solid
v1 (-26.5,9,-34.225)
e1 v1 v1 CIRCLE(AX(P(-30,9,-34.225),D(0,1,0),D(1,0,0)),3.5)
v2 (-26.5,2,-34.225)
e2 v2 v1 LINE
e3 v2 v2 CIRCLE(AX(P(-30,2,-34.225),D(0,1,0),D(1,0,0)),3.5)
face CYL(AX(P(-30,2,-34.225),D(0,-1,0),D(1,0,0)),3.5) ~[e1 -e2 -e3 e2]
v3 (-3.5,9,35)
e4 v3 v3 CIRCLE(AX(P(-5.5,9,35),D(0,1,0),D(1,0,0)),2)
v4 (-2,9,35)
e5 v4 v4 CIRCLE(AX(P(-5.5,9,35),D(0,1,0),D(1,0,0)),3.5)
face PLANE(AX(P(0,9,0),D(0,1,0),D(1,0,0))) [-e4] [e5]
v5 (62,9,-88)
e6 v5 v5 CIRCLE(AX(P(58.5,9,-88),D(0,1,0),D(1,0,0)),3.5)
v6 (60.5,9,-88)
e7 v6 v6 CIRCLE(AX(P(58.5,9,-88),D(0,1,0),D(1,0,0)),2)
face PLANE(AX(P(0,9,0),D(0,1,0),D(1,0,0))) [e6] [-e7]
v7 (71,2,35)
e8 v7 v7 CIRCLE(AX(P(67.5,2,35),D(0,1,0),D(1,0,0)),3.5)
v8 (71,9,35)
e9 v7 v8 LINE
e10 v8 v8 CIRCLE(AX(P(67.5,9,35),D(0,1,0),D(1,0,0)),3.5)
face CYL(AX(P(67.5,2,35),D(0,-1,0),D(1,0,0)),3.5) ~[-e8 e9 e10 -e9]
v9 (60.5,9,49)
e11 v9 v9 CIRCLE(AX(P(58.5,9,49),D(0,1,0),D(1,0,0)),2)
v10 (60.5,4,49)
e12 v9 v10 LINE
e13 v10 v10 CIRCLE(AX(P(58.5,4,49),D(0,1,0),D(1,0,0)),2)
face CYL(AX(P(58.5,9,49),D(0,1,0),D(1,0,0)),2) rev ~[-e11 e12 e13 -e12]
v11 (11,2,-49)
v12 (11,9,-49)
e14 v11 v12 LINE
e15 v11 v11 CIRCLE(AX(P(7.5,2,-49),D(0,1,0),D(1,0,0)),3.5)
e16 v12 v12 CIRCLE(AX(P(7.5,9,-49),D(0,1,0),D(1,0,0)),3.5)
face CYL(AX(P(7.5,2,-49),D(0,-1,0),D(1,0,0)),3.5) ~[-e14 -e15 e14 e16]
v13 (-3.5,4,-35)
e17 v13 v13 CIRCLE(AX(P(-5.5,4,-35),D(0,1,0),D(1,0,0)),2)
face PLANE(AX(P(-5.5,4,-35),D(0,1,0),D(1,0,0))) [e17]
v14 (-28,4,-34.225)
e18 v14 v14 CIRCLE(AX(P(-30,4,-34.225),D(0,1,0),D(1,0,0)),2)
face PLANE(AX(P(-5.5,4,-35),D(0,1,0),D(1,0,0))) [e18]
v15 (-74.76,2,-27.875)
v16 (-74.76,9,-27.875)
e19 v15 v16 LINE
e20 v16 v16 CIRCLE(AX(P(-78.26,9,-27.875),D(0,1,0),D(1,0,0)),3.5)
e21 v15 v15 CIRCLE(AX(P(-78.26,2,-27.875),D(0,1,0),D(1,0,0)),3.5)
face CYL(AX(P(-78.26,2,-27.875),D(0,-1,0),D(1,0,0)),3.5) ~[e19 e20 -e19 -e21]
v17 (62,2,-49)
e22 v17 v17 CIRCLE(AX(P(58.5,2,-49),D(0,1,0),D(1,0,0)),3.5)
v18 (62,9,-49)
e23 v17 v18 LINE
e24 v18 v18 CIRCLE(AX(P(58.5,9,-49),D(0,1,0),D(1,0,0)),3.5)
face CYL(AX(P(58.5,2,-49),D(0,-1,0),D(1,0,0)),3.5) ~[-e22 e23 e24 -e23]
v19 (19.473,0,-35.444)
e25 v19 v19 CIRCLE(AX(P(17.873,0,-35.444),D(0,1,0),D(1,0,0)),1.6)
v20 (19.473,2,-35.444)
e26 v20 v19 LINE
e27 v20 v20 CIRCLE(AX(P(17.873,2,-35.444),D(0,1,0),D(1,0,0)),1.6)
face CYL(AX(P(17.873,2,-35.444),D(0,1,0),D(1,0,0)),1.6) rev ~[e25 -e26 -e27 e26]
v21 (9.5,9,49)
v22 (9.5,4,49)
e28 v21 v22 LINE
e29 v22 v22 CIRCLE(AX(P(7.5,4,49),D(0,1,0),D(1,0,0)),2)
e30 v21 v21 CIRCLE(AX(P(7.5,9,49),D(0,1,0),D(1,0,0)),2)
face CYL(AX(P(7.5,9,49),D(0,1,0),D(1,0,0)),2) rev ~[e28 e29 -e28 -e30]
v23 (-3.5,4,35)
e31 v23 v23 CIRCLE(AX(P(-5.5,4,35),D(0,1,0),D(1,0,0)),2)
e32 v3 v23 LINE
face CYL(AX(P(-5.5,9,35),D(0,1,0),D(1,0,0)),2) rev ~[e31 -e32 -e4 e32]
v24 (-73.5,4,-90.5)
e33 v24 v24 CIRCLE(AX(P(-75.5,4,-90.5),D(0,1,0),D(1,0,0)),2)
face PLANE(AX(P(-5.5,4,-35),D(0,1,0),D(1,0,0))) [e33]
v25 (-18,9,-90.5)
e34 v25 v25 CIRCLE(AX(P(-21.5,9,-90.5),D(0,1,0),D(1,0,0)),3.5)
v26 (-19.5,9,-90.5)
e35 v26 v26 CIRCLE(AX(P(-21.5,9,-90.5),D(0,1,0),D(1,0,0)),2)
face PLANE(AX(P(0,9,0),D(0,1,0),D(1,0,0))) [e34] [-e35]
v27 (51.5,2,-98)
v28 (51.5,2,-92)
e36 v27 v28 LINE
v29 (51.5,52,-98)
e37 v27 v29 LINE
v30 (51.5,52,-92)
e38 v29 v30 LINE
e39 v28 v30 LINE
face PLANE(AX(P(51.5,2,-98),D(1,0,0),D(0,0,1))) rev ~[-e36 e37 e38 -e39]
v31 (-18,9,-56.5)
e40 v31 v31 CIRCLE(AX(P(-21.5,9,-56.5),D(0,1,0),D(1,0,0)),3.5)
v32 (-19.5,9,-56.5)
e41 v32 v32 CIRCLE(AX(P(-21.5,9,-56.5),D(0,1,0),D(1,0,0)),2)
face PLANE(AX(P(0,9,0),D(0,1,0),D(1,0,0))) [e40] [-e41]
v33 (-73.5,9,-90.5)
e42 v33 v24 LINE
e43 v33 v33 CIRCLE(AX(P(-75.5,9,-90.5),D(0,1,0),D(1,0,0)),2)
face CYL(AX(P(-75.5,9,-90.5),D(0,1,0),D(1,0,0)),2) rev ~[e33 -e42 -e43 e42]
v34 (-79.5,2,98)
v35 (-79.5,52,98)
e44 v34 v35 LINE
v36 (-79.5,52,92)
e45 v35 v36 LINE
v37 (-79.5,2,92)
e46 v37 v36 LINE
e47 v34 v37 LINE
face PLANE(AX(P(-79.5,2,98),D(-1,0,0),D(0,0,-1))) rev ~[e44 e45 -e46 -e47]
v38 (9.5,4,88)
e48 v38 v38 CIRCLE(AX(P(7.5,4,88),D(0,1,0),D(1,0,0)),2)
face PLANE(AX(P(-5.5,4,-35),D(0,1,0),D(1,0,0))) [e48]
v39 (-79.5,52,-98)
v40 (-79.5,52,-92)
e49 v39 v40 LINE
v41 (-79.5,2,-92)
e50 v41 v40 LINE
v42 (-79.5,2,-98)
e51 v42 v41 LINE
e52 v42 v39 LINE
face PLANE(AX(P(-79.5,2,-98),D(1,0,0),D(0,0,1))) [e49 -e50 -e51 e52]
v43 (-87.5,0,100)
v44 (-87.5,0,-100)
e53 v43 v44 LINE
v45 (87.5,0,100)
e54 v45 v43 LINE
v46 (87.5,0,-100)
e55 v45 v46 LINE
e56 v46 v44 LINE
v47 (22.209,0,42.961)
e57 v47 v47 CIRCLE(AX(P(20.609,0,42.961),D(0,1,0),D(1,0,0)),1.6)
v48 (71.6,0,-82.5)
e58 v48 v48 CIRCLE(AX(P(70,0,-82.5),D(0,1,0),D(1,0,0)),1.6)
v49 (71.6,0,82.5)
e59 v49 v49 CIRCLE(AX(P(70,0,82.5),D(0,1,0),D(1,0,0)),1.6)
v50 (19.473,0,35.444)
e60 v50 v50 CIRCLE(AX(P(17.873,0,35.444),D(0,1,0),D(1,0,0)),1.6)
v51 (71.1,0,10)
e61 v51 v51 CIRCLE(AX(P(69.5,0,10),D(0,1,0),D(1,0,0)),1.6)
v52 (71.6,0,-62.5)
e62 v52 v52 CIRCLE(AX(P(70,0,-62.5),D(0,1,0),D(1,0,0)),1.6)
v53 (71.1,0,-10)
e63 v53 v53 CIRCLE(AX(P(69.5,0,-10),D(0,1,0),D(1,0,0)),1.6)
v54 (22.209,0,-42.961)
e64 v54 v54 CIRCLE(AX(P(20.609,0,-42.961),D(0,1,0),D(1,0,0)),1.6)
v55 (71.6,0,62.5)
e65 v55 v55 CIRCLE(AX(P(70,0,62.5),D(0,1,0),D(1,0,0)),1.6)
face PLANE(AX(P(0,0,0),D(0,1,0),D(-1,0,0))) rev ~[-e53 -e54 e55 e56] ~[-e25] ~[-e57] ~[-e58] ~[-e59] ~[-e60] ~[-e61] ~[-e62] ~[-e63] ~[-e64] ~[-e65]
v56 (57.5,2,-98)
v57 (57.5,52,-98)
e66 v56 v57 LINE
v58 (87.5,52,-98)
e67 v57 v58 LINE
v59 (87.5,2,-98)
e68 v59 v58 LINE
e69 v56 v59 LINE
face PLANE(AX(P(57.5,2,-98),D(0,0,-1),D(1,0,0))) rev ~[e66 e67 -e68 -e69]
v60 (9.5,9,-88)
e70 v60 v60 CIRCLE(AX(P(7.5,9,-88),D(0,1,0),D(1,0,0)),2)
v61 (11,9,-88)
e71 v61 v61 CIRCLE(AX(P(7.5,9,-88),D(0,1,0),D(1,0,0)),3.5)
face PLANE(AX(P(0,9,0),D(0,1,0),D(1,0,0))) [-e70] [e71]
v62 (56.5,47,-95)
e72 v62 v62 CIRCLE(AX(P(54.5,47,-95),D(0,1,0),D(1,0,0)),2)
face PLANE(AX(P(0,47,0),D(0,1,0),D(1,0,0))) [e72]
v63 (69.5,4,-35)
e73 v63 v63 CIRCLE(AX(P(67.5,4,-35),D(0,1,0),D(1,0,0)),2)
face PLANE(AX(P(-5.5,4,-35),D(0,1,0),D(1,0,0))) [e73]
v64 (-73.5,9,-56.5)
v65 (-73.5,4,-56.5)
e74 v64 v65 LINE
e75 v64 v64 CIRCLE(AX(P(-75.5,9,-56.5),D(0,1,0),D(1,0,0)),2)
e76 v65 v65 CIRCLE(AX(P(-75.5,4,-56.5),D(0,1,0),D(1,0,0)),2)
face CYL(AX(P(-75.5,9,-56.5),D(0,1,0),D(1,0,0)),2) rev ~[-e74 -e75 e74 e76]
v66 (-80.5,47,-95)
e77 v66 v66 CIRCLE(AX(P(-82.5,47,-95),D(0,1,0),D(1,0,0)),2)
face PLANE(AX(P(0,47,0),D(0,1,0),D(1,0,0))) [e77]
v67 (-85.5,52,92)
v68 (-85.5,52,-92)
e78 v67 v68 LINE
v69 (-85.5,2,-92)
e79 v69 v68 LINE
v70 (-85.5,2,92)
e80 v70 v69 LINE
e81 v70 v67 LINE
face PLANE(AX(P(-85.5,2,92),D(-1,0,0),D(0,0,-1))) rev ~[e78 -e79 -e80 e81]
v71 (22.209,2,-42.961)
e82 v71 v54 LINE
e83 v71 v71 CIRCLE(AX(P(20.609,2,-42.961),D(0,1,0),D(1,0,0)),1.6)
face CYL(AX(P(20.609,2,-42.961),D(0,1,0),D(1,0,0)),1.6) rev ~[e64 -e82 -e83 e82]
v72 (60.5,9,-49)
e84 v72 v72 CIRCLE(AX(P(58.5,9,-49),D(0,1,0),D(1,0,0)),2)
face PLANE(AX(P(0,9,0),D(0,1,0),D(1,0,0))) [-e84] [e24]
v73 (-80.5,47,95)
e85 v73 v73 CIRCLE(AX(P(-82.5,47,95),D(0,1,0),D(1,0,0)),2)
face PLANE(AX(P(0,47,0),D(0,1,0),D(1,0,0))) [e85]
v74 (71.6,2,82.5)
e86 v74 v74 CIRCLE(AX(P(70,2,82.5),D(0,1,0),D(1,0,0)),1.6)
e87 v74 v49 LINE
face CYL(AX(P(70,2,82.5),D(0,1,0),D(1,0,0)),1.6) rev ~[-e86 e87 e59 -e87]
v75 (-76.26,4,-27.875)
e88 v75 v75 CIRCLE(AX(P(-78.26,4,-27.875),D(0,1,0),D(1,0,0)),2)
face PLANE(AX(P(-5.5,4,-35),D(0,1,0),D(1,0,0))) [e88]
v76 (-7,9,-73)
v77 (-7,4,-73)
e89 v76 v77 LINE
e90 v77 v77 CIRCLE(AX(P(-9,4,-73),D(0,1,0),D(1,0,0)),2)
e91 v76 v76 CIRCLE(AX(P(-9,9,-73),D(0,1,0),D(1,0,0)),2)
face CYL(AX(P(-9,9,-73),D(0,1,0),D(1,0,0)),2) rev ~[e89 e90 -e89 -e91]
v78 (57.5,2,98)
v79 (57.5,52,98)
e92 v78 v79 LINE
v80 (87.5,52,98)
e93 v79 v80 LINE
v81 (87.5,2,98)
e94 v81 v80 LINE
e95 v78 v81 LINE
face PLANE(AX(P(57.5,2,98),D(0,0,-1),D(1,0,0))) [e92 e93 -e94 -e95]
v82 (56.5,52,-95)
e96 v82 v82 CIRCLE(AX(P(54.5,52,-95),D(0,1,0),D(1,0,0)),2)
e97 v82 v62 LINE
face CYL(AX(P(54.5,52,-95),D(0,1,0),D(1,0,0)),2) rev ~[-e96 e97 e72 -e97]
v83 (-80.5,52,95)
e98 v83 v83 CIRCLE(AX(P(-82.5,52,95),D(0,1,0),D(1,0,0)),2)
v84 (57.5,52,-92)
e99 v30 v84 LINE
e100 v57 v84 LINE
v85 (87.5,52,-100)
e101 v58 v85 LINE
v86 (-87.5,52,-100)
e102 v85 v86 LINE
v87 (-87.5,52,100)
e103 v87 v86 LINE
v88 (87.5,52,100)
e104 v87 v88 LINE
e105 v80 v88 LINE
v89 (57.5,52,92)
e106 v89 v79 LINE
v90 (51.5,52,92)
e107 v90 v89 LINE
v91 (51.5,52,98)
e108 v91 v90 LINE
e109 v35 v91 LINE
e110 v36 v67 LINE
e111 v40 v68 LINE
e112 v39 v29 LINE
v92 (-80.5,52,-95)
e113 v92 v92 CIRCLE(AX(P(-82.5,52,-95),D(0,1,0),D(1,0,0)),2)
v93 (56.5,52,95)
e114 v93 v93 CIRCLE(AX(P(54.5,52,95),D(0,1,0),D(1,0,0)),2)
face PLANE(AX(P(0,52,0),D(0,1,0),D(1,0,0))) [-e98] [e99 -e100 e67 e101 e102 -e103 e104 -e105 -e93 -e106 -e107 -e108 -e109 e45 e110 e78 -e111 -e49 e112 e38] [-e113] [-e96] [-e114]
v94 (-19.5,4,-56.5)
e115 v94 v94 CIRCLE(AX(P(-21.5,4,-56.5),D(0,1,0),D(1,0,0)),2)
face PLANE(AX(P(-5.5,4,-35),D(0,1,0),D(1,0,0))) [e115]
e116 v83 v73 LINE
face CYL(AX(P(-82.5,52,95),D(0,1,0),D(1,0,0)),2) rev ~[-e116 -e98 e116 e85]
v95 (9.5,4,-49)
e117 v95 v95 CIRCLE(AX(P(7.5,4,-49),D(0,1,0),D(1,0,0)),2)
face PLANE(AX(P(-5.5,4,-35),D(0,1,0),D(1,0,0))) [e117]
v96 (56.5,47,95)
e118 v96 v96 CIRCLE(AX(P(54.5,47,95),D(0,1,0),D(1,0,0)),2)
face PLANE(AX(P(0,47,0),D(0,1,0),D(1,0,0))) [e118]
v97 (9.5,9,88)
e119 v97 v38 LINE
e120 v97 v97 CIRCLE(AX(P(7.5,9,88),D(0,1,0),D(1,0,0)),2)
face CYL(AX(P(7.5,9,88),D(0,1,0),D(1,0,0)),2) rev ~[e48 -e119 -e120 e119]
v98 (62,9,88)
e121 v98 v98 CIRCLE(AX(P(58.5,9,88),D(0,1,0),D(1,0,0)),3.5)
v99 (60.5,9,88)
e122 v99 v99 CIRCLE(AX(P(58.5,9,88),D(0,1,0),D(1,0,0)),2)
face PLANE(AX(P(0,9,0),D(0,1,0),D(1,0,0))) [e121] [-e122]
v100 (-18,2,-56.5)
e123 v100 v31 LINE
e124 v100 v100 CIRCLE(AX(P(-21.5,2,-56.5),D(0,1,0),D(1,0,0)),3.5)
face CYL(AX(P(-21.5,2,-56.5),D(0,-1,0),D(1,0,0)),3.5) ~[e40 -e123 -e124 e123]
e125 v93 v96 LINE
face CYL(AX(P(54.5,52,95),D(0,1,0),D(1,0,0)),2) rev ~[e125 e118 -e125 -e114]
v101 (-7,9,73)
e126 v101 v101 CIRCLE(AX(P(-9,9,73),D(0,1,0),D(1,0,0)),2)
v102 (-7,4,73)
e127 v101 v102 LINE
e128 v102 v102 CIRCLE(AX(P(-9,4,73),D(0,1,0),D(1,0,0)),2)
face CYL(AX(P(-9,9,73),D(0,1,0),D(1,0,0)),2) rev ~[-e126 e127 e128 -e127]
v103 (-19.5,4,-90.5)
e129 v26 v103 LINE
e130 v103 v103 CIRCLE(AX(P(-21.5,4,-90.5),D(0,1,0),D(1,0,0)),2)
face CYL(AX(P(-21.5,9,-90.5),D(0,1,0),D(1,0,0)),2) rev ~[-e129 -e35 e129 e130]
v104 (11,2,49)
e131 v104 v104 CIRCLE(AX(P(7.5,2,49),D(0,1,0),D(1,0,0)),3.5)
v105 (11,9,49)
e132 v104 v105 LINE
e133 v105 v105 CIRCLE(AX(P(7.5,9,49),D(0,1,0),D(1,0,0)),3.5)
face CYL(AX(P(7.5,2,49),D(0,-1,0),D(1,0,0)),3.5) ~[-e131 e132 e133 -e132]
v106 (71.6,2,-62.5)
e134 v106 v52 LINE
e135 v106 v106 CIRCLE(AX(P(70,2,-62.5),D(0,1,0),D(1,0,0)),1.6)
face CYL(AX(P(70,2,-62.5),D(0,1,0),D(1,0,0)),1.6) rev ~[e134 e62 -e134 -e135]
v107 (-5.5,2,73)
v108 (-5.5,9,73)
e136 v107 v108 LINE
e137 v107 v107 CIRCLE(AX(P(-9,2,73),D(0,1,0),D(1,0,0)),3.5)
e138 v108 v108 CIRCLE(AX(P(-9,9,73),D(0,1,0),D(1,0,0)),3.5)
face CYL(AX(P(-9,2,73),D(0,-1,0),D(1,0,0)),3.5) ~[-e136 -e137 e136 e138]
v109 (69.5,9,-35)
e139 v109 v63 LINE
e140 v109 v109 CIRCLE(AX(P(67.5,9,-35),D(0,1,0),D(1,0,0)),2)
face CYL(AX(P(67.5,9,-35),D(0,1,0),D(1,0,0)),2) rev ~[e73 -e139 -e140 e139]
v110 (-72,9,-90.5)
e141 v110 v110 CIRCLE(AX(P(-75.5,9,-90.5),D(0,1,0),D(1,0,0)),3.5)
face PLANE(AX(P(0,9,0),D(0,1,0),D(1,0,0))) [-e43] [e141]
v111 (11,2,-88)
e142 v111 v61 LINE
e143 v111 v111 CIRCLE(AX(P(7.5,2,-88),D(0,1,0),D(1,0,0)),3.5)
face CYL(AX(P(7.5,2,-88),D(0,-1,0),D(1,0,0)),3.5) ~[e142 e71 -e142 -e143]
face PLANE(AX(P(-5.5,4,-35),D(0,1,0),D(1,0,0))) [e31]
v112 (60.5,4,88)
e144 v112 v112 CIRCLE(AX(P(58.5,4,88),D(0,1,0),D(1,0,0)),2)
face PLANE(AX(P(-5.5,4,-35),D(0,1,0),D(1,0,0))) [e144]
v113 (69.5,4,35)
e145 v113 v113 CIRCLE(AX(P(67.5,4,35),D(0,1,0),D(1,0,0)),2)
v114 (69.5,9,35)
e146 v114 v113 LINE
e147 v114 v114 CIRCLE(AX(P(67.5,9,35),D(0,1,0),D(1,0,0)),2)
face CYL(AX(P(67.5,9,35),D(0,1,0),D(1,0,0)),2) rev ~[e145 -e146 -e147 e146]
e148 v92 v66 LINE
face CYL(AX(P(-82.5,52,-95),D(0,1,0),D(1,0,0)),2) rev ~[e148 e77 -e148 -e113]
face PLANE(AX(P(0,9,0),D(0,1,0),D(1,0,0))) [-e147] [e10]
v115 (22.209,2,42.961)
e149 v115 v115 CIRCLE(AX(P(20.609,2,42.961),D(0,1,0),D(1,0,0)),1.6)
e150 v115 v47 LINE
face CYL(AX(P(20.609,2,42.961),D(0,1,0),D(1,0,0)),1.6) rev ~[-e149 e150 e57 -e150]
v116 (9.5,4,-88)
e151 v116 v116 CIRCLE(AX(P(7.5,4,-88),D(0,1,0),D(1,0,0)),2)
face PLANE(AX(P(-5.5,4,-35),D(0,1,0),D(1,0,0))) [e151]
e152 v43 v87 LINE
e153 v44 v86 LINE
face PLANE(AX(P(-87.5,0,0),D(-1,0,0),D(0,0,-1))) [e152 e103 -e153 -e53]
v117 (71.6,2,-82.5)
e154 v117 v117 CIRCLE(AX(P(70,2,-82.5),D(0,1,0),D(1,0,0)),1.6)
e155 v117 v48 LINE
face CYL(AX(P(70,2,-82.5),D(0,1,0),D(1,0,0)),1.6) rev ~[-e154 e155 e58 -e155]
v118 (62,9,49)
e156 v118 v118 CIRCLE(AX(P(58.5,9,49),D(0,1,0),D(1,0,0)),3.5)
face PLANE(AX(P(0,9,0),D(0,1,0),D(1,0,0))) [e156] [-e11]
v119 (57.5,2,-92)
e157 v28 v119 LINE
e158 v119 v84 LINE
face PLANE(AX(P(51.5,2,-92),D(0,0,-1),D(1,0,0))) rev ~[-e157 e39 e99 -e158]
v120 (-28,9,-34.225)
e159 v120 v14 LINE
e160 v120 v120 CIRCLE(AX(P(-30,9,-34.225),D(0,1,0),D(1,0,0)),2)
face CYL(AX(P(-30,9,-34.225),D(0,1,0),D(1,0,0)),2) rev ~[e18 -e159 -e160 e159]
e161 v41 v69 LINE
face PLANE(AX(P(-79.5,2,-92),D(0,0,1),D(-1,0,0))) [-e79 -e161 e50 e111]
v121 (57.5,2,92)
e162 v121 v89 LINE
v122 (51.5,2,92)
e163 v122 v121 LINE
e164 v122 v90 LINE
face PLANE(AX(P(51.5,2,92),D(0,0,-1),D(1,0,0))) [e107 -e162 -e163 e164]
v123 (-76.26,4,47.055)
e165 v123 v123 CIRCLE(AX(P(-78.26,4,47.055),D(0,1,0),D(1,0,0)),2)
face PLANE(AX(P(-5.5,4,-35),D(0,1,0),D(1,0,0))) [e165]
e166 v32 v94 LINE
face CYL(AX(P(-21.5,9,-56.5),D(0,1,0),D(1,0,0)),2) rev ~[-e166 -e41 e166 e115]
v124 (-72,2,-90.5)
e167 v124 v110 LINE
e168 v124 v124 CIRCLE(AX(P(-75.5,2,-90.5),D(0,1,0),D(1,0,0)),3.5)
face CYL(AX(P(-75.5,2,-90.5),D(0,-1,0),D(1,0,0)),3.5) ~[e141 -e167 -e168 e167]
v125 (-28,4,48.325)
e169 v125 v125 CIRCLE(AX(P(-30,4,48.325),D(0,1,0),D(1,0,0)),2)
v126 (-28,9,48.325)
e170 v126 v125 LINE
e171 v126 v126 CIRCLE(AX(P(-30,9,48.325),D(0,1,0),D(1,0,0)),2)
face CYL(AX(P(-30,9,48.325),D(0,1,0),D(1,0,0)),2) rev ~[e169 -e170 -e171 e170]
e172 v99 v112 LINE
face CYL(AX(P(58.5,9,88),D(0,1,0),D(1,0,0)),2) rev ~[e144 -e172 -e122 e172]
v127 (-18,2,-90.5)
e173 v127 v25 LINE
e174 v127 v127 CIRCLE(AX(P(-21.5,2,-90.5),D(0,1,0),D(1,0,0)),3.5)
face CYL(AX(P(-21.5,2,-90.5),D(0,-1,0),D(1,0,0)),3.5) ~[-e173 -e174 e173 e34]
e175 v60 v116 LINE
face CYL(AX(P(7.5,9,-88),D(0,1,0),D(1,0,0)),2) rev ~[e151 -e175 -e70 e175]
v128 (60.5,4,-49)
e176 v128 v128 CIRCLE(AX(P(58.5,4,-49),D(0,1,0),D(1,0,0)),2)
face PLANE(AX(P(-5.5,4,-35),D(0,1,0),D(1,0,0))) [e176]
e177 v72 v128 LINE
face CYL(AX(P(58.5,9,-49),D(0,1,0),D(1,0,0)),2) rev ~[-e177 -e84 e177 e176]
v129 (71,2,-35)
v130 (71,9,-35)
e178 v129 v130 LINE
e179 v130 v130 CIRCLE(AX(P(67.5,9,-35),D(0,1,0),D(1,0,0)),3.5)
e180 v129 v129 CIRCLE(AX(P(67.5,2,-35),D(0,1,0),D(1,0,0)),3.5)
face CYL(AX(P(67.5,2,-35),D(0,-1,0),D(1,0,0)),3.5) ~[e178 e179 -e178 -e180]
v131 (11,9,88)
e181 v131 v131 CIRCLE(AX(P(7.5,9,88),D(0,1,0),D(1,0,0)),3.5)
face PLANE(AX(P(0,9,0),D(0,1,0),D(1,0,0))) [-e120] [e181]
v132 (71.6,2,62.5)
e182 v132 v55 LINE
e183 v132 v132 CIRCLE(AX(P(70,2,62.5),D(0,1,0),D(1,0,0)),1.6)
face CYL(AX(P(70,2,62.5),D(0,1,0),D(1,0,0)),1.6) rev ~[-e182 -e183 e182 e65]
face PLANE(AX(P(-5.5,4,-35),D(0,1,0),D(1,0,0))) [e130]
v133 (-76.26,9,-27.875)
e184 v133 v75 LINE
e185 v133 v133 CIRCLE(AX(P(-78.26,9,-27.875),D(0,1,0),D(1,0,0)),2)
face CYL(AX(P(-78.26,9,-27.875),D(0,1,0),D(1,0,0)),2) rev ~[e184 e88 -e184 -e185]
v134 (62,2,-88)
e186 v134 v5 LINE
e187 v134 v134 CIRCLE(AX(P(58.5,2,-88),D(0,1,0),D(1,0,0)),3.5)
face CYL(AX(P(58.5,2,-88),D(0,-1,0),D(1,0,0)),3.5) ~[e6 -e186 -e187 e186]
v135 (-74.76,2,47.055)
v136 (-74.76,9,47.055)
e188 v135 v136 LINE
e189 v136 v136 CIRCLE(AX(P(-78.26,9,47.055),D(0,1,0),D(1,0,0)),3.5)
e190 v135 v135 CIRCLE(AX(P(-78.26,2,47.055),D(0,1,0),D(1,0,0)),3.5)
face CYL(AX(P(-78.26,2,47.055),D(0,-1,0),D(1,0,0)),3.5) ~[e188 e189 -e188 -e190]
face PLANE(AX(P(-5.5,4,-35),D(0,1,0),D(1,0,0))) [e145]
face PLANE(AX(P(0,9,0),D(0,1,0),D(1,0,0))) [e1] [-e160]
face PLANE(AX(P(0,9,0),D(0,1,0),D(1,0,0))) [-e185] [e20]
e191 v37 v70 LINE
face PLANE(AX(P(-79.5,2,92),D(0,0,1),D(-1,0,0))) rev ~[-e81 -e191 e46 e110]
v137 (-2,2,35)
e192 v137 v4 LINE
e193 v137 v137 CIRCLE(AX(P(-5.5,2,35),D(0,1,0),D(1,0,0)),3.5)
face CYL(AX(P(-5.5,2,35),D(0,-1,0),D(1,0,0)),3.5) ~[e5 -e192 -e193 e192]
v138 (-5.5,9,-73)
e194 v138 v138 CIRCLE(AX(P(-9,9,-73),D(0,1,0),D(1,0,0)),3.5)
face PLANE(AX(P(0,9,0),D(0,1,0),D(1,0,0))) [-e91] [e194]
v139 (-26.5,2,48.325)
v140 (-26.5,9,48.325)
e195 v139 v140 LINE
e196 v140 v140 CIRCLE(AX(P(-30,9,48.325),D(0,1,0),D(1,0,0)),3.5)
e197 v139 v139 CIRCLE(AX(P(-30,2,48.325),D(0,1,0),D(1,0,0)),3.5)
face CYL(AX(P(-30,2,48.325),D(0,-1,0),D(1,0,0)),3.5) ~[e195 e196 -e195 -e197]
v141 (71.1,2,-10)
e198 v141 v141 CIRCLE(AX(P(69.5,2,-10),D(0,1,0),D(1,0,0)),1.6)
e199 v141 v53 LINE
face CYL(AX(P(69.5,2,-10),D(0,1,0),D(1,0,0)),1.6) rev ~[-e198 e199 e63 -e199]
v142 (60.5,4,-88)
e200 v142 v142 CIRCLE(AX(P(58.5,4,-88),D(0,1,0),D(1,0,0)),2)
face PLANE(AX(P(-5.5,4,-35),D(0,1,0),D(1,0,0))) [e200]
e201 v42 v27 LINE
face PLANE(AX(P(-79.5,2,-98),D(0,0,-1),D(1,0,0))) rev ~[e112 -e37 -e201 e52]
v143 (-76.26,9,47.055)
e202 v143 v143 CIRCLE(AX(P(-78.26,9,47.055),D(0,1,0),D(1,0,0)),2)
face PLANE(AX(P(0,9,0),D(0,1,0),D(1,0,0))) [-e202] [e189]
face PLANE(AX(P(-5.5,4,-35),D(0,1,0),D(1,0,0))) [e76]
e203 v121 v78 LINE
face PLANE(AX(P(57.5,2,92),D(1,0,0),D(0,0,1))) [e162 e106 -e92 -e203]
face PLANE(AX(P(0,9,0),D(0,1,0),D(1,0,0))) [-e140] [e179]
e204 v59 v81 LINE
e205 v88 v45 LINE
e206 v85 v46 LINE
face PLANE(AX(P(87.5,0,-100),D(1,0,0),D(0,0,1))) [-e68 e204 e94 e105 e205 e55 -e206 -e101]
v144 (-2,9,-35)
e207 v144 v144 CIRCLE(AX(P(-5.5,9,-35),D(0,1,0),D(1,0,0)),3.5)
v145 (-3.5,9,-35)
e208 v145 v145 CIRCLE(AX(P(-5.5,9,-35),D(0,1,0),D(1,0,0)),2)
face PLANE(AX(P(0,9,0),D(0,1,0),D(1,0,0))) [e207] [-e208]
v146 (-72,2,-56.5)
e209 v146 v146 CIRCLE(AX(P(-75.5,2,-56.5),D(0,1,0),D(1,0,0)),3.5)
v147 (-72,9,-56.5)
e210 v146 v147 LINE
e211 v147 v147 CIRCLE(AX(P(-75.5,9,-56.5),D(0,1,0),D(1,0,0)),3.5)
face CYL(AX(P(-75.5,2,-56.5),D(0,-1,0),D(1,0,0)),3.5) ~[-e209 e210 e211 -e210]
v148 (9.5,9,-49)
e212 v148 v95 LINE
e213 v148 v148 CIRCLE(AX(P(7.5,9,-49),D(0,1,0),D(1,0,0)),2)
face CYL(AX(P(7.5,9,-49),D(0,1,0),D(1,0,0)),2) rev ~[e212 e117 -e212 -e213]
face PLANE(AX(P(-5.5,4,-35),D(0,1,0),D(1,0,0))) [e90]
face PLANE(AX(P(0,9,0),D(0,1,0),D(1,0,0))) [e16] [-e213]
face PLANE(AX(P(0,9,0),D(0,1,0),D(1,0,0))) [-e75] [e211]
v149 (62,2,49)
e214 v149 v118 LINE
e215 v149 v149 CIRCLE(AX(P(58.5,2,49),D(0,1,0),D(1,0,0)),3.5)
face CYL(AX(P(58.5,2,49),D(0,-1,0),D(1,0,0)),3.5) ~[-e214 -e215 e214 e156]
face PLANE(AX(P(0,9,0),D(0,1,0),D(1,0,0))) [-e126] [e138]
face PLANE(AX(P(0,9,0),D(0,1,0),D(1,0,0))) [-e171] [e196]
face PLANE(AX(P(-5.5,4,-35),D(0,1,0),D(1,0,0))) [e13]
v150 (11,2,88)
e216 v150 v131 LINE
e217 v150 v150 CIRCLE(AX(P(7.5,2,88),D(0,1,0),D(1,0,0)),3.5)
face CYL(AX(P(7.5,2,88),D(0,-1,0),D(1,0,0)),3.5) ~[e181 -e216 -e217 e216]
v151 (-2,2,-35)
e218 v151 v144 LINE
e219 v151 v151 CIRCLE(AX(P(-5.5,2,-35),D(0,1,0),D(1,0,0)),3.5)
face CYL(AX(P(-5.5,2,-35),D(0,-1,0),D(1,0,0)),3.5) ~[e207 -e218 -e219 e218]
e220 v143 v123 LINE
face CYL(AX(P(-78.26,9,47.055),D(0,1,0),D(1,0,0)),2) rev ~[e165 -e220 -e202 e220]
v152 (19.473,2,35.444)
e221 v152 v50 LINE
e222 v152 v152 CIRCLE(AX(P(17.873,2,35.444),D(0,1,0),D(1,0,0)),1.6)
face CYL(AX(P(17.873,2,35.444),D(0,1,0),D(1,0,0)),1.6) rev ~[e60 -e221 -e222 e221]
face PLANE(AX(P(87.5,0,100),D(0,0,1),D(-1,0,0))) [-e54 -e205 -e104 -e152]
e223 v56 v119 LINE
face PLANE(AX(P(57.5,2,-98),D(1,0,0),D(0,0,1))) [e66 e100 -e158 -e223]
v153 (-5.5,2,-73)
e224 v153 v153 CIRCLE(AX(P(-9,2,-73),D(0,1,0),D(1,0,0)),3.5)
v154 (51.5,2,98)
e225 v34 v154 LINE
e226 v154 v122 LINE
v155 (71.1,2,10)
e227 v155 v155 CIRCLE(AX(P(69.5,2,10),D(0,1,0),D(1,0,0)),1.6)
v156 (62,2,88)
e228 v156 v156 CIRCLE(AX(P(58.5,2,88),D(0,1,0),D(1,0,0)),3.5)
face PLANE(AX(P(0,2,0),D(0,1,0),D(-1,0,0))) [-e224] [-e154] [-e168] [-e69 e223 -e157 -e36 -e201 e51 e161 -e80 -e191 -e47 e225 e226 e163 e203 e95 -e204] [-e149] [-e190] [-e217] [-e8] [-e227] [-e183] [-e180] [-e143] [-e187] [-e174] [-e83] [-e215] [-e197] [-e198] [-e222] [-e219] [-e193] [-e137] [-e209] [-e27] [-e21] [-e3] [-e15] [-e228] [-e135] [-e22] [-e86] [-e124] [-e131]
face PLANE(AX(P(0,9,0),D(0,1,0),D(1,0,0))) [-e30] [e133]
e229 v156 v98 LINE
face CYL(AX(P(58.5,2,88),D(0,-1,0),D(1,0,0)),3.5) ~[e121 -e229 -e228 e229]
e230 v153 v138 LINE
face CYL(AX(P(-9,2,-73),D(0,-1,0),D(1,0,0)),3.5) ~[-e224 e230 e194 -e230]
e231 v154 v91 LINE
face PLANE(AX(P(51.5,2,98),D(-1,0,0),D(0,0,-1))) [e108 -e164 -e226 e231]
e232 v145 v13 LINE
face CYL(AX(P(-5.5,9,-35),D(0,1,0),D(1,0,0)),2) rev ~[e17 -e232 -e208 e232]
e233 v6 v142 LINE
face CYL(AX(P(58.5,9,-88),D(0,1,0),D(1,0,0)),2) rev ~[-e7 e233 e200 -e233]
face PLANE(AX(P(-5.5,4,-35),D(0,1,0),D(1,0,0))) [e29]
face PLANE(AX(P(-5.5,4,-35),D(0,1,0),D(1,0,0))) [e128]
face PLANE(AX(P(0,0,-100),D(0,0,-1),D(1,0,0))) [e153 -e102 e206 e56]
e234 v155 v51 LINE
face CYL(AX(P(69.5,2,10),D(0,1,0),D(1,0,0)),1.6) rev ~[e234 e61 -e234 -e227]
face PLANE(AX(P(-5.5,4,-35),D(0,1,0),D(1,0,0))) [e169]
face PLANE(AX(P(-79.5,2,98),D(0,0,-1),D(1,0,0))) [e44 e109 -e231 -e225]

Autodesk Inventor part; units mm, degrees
ref_plane "YZ Plane" through (0, 0, 0) normal (1, 0, 0) x (0, 1, 0)
ref_plane "XZ Plane" through (0, 0, 0) normal (0, 1, 0) x (-1, 0, 0)
ref_plane "XY Plane" through (0, 0, 0) normal (0, 0, 1) x (1, 0, 0)
sketch "Skizze1" plane through (0, 0, 0) normal (0, 1, 0) x (-1, 0, 0)
  line L0 (0, -140) -> (0, 140) projected
  line L1 (-122.5, 0) -> (122.5, 0) projected
  line L2 (87.5, -100) -> (-87.5, -100)
  line L3 (-87.5, -100) -> (-87.5, 100)
  line L4 (-87.5, 100) -> (87.5, 100)
  line L5 (87.5, 100) -> (87.5, -100)
  point P0 (0, 0)
  dimension "d0" = 175
  dimension "d1" = 200
extrude "Extrusion1" add sketch "Skizze1" along normal blind 2
sketch "Skizze2" plane through (0, 2, 0) normal (0, 1, 0) x (1, 0, 0)
  circle A0 centre (70, 82.5) radius 1.6
  line L0 (87.5, -100) -> (87.5, 100) projected
  line L1 (87.5, 100) -> (-87.5, 100) projected
  circle A1 centre (70, 62.5) radius 1.6
  line L2 (122.5, 0) -> (-122.5, 0) projected
  circle A2 centre (70, -82.5) radius 1.6
  circle A3 centre (70, -62.5) radius 1.6
  point P0 (0, 0)
  dimension "d4" = 3.2
  dimension "d5" = 17.5
  dimension "d6" = 17.5
  dimension "d7" = 3.2
  dimension "d8" = 20
  dimension "d9" = 17.5
extrude "Extrusion2" cut sketch "Skizze2" against normal up to surface (2 mm away)
sketch "Skizze4" plane through (0, 2, 0) normal (0, 1, 0) x (1, 0, 0)
  line L0 (-87.5, -100) -> (87.5, -100) projected
  line L1 (-87.5, 100) -> (-87.5, -100) projected
  line L2 (87.5, -100) -> (-87.5, -100)
  line L3 (-87.5, -100) -> (-87.5, -98)
  line L4 (-87.5, -98) -> (87.5, -98)
  line L5 (87.5, -98) -> (87.5, -100)
  line L6 (87.5, 100) -> (-87.5, 100) projected
  line L7 (87.5, 100) -> (-87.5, 100)
  line L8 (-87.5, 100) -> (-87.5, 98)
  line L9 (-87.5, 98) -> (87.5, 98)
  line L10 (87.5, 98) -> (87.5, 100)
  line L11 (87.5, -98) -> (51.5, -98)
  line L12 (51.5, -98) -> (51.5, -92)
  line L13 (51.5, -92) -> (57.5, -92)
  line L14 (87.5, 98) -> (51.5, 98)
  line L15 (51.5, 98) -> (51.5, 92)
  line L16 (51.5, 92) -> (57.5, 92)
  line L17 (-87.5, -98) -> (-85.5, -98)
  line L18 (-85.5, -98) -> (-85.5, 98)
  line L19 (-85.5, 98) -> (-87.5, 98)
  line L20 (-87.5, 98) -> (-87.5, -98)
  line L21 (-85.5, 98) -> (-79.5, 98)
  line L22 (-79.5, 98) -> (-79.5, 92)
  line L23 (-79.5, 92) -> (-85.5, 92)
  line L24 (-85.5, 92) -> (-85.5, 98)
  line L25 (-85.5, -98) -> (-79.5, -98)
  line L26 (-79.5, -98) -> (-79.5, -92)
  line L27 (-79.5, -92) -> (-85.5, -92)
  line L28 (-85.5, -92) -> (-85.5, -98)
  line L29 (57.5, -92) -> (57.5, -98)
  line L30 (87.5, -100) -> (87.5, 100) projected
  line L31 (57.5, 98) -> (57.5, 92)
  point P0 (0, 0)
  point P1 (-85.5, -92)
  point P2 (51.5, -98)
  point P3 (-87.5, 98)
  point P4 (-87.5, 100)
  dimension "d18" = 2
  dimension "d19" = 2
  dimension "d21" = 6
  dimension "d23" = 6
  dimension "d24" = 2
  dimension "d25" = 6
  dimension "d26" = 6
  dimension "d27" = 6
  dimension "d28" = 6
  dimension "d130" = 6
  dimension "d131" = 30
  dimension "d132" = 6
  dimension "d133" = 30
extrude "Extrusion4" add sketch "Skizze4" along normal blind 50 contours L1 L4 L5 L0 | L1 L9 L18 L4 | L1 L6 L10 L9 | L18 L27 L26 L4 | L4 L12 L13 L29 | L9 L22 L23 L18 | L31 L16 L15 L9
sketch "Skizze5" plane through (0, 2, 0) normal (0, 1, 0) x (1, 0, 0)
  circle A0 centre (67.5, 35) radius 3.5
  circle A1 centre (67.5, -35) radius 3.5
  line L0 (-129.052, 0) -> (123.592, 0) projected
  line L1 (123.592, 0) -> (-129.052, 0) projected
  line L2 (87.5, -98) -> (87.5, 98) projected
  circle A2 centre (-5.5, -35) radius 3.5
  circle A3 centre (-5.5, 35) radius 3.5
  line L3 (87.5, 100) -> (-87.5, 100) projected
  circle A4 centre (-30, -48.325) radius 3.5
  circle A5 centre (-30, 34.225) radius 3.5
  circle A6 centre (-78.26, 27.875) radius 3.5
  circle A7 centre (-78.26, -47.055) radius 3.5
  line L4 (-87.5, 100) -> (-87.5, -100) projected
  line L5 (51.5, -98) -> (-79.5, -98) projected
  line L6 (-85.5, -92) -> (-85.5, 92) projected
  line L7 (0, 140) -> (0, -140) projected
  circle A8 centre (7.5, 49) radius 3.5
  circle A9 centre (7.5, 88) radius 3.5
  circle A10 centre (58.5, 49) radius 3.5
  circle A11 centre (58.5, 88) radius 3.5
  line L8 (-79.5, 98) -> (51.5, 98) projected
  circle A12 centre (7.5, -49) radius 3.5
  circle A13 centre (7.5, -88) radius 3.5
  circle A14 centre (58.5, -49) radius 3.5
  circle A15 centre (58.5, -88) radius 3.5
  circle A16 centre (-75.5, 56.5) radius 3.5
  circle A17 centre (-75.5, 90.5) radius 3.5
  circle A18 centre (-21.5, 56.5) radius 3.5
  circle A19 centre (-21.5, 90.5) radius 3.5
  circle A20 centre (-9, 73) radius 3.5
  circle A21 centre (-9, -73) radius 3.5
  point P0 (0, 0)
  point P1 (-75, 100)
  dimension "d31" = 7
  dimension "d32" = 7
  dimension "d35" = 20
  dimension "d36" = 20
  dimension "d37" = 7
  dimension "d38" = 73
  dimension "d40" = 7
  dimension "d42" = 73
  dimension "d68" = 70
  dimension "d69" = 70
  dimension "d70" = 35
  dimension "d73" = 65
  dimension "d74" = 7
  dimension "d75" = 7
  dimension "d83" = 7
  dimension "d86" = 7
  dimension "d136" = 48.26
  dimension "d137" = 74.93
  dimension "d138" = 48.26
  dimension "d139" = 82.55
  dimension "d142" = 30
  dimension "d143" = 30
  dimension "d144" = 34.225
  dimension "d145" = 47.055
  dimension "d148" = 7
  dimension "d149" = 7
  dimension "d150" = 7
  dimension "d151" = 7
  dimension "d152" = 10
  dimension "d153" = 10
  dimension "d154" = 39
  dimension "d155" = 39
  dimension "d156" = 51
  dimension "d157" = 51
  dimension "d161" = 7.5
  dimension "d163" = 7.5
  dimension "d177" = 7
  dimension "d178" = 7
  dimension "d179" = 7
  dimension "d180" = 7
  dimension "d181" = 10
  dimension "d182" = 10
  dimension "d183" = 7.5
  dimension "d184" = 34
  dimension "d185" = 7.5
  dimension "d186" = 34
  dimension "d187" = 54
  dimension "d188" = 54
  dimension "d193" = 7
  dimension "d194" = 25
  dimension "d195" = 9
  dimension "d196" = 7
  dimension "d197" = 25
  dimension "d198" = 9
extrude "Extrusion5" add sketch "Skizze5" along normal blind 7 contours A0 | A1 | A2 | A3 | A4 | A5 | A6 | A7 | A8 | A9 | A10 | A11 | A12 | A13 | A14 | A15 | A16 | A17 | A18 | A19 | A20 | A21
sketch "Skizze6" plane through (-5.5, 9, -35) normal (0, 1, 0) x (1, 0, 0)
  circle A0 centre (0, 0) radius 2
  circle A1 centre (73, 0) radius 3.5 projected
  circle A2 centre (73, 0) radius 2
  circle A3 centre (0, -70) radius 2
  circle A4 centre (0, -70) radius 3.5 projected
  circle A5 centre (73, -70) radius 3.5 projected
  circle A6 centre (73, -70) radius 2
  circle A7 centre (-72.76, -82.055) radius 2
  circle A8 centre (-72.76, -82.055) radius 3.5 projected
  circle A9 centre (-24.5, -83.325) radius 2
  circle A10 centre (-24.5, -83.325) radius 3.5 projected
  circle A11 centre (-24.5, -0.775) radius 2
  circle A12 centre (-24.5, -0.775) radius 3.5 projected
  circle A13 centre (-72.76, -7.125) radius 2
  circle A14 centre (-72.76, -7.125) radius 3.5 projected
  circle A15 centre (13, -123) radius 3.5
  circle A16 centre (13, -123) radius 3.5 projected
  circle A17 centre (13, -123) radius 2
  circle A18 centre (13, -84) radius 3.5
  circle A19 centre (13, -84) radius 3.5 projected
  circle A20 centre (13, -84) radius 2
  circle A21 centre (64, -123) radius 2
  circle A22 centre (64, -123) radius 3.5 projected
  circle A23 centre (64, -123) radius 3.5
  circle A24 centre (64, -84) radius 3.5
  circle A25 centre (64, -84) radius 3.5 projected
  circle A26 centre (64, -84) radius 2
  line L0 (128, -35) -> (-117, -35) projected
  circle A27 centre (13, 53) radius 3.5
  circle A28 centre (13, 53) radius 2
  circle A29 centre (13, 14) radius 3.5
  circle A30 centre (13, 14) radius 2
  circle A31 centre (64, 53) radius 2
  circle A32 centre (64, 53) radius 3.5
  circle A33 centre (64, 14) radius 3.5
  circle A34 centre (64, 14) radius 2
  circle A35 centre (-70, 21.5) radius 3.5 projected
  circle A36 centre (-70, 55.5) radius 3.5 projected
  circle A37 centre (-16, 55.5) radius 3.5 projected
  circle A38 centre (-16, 21.5) radius 3.5 projected
  circle A39 centre (-70, 21.5) radius 2
  circle A40 centre (-70, 55.5) radius 3.5 projected
  circle A41 centre (-70, 55.5) radius 2
  circle A42 centre (-16, 21.5) radius 3.5 projected
  circle A43 centre (-16, 21.5) radius 2
  circle A44 centre (-16, 55.5) radius 3.5 projected
  circle A45 centre (-16, 55.5) radius 2
  circle A46 centre (-3.5, -108) radius 3.5 projected
  circle A47 centre (-3.5, 38) radius 3.5 projected
  circle A48 centre (-3.5, -108) radius 2
  circle A49 centre (-3.5, 38) radius 3.5 projected
  circle A50 centre (-3.5, 38) radius 2
  point P0 (-82, -78.8303)
  point P1 (-82, -84.6297)
  point P2 (-82, -3.9003)
  point P3 (-82, -9.6997)
  dimension "d45" = 4
  dimension "d46" = 4
  dimension "d47" = 4
  dimension "d48" = 0
  dimension "d49" = 4
  dimension "d50" = 73
  dimension "d51" = 70
  dimension "d96" = 4
  dimension "d97" = 0
  dimension "d98" = 0
  dimension "d99" = 4
  dimension "d100" = 0
  dimension "d101" = 0
  dimension "d102" = 4
  dimension "d103" = 0
  dimension "d104" = 4
  dimension "d105" = 0
  dimension "d164" = 7
  dimension "d165" = 0
  dimension "d166" = 0
  dimension "d167" = 4
  dimension "d168" = 7
  dimension "d169" = 0
  dimension "d170" = 4
  dimension "d171" = 4
  dimension "d172" = 0
  dimension "d173" = 7
  dimension "d174" = 7
  dimension "d176" = 4
  dimension "d189" = 4
  dimension "d190" = 4
  dimension "d191" = 4
  dimension "d192" = 4
  dimension "d199" = 4
  dimension "d200" = 4
extrude "Extrusion6" cut sketch "Skizze6" against normal blind 5 contours A0 | A2 | A3 | A6 | A7 | A9 | A11 | A13 | A17 | A20 | A21 | A26 | A28 | A30 | A31 | A34 | A39 | A41 | A43 | A45 | A48 | A50
sketch "Skizze7" plane through (0, 52, 0) normal (0, 1, 0) x (1, 0, 0)
  circle A0 centre (54.5, -95) radius 2
  circle A1 centre (-82.5, -95) radius 2
  circle A2 centre (-82.5, 95) radius 2
  circle A3 centre (54.5, 95) radius 2
  line L0 (51.5, 98) -> (51.5, 92) projected
  line L1 (51.5, 92) -> (57.5, 92) projected
  line L2 (51.5, -92) -> (51.5, -98) projected
  line L3 (57.5, -92) -> (51.5, -92) projected
  line L4 (-79.5, -98) -> (-79.5, -92) projected
  line L5 (-79.5, -92) -> (-85.5, -92) projected
  line L6 (-79.5, 92) -> (-79.5, 98) projected
  line L7 (-85.5, 92) -> (-79.5, 92) projected
  line L8 (57.5, -98) -> (57.5, -92) projected
  line L9 (57.5, 92) -> (57.5, 98) projected
  point P0 (0, 0)
  point P1 (75, -92)
  dimension "d54" = 4
  dimension "d55" = 4
  dimension "d56" = 4
  dimension "d57" = 4
  dimension "d59" = 3
  dimension "d61" = 3
  dimension "d62" = 3
  dimension "d63" = 3
  dimension "d64" = 3
  dimension "d65" = 3
  dimension "d146" = 3
  dimension "d147" = 3
extrude "Extrusion7" cut sketch "Skizze7" against normal blind 5
sketch "Skizze8" plane through (0, 2, 0) normal (0, 1, 0) x (1, 0, 0)
  circle A0 centre (69.5, 10) radius 1.6
  line L0 (122.5, 0) -> (-122.5, 0) projected
  line L1 (87.5, -98) -> (87.5, 98) projected
  circle A1 centre (69.5, -10) radius 1.6
  circle A2 centre (20.609, 42.961) radius 1.6
  circle A3 centre (17.873, 35.444) radius 1.6
  circle A4 centre (20.609, -42.961) radius 1.6
  circle A5 centre (17.873, -35.444) radius 1.6
  point P0 (0, 0)
  point P1 (75, -92)
  point P2 (75, 92)
  point P3 (87.5, 98)
  dimension "d119" = 3.2
  dimension "d120" = 18
  dimension "d121" = 10
  dimension "d122" = 3.2
  dimension "d123" = 3.2
  dimension "d124" = 66.891
  dimension "d125" = 69.627
  dimension "d126" = 42.961
  dimension "d127" = 35.444
extrude "Extrusion8" cut sketch "Skizze8" against normal up to surface (2 mm away)
equation "\"d43\" = d83"
properties part number "Grundplatte_vorne"
